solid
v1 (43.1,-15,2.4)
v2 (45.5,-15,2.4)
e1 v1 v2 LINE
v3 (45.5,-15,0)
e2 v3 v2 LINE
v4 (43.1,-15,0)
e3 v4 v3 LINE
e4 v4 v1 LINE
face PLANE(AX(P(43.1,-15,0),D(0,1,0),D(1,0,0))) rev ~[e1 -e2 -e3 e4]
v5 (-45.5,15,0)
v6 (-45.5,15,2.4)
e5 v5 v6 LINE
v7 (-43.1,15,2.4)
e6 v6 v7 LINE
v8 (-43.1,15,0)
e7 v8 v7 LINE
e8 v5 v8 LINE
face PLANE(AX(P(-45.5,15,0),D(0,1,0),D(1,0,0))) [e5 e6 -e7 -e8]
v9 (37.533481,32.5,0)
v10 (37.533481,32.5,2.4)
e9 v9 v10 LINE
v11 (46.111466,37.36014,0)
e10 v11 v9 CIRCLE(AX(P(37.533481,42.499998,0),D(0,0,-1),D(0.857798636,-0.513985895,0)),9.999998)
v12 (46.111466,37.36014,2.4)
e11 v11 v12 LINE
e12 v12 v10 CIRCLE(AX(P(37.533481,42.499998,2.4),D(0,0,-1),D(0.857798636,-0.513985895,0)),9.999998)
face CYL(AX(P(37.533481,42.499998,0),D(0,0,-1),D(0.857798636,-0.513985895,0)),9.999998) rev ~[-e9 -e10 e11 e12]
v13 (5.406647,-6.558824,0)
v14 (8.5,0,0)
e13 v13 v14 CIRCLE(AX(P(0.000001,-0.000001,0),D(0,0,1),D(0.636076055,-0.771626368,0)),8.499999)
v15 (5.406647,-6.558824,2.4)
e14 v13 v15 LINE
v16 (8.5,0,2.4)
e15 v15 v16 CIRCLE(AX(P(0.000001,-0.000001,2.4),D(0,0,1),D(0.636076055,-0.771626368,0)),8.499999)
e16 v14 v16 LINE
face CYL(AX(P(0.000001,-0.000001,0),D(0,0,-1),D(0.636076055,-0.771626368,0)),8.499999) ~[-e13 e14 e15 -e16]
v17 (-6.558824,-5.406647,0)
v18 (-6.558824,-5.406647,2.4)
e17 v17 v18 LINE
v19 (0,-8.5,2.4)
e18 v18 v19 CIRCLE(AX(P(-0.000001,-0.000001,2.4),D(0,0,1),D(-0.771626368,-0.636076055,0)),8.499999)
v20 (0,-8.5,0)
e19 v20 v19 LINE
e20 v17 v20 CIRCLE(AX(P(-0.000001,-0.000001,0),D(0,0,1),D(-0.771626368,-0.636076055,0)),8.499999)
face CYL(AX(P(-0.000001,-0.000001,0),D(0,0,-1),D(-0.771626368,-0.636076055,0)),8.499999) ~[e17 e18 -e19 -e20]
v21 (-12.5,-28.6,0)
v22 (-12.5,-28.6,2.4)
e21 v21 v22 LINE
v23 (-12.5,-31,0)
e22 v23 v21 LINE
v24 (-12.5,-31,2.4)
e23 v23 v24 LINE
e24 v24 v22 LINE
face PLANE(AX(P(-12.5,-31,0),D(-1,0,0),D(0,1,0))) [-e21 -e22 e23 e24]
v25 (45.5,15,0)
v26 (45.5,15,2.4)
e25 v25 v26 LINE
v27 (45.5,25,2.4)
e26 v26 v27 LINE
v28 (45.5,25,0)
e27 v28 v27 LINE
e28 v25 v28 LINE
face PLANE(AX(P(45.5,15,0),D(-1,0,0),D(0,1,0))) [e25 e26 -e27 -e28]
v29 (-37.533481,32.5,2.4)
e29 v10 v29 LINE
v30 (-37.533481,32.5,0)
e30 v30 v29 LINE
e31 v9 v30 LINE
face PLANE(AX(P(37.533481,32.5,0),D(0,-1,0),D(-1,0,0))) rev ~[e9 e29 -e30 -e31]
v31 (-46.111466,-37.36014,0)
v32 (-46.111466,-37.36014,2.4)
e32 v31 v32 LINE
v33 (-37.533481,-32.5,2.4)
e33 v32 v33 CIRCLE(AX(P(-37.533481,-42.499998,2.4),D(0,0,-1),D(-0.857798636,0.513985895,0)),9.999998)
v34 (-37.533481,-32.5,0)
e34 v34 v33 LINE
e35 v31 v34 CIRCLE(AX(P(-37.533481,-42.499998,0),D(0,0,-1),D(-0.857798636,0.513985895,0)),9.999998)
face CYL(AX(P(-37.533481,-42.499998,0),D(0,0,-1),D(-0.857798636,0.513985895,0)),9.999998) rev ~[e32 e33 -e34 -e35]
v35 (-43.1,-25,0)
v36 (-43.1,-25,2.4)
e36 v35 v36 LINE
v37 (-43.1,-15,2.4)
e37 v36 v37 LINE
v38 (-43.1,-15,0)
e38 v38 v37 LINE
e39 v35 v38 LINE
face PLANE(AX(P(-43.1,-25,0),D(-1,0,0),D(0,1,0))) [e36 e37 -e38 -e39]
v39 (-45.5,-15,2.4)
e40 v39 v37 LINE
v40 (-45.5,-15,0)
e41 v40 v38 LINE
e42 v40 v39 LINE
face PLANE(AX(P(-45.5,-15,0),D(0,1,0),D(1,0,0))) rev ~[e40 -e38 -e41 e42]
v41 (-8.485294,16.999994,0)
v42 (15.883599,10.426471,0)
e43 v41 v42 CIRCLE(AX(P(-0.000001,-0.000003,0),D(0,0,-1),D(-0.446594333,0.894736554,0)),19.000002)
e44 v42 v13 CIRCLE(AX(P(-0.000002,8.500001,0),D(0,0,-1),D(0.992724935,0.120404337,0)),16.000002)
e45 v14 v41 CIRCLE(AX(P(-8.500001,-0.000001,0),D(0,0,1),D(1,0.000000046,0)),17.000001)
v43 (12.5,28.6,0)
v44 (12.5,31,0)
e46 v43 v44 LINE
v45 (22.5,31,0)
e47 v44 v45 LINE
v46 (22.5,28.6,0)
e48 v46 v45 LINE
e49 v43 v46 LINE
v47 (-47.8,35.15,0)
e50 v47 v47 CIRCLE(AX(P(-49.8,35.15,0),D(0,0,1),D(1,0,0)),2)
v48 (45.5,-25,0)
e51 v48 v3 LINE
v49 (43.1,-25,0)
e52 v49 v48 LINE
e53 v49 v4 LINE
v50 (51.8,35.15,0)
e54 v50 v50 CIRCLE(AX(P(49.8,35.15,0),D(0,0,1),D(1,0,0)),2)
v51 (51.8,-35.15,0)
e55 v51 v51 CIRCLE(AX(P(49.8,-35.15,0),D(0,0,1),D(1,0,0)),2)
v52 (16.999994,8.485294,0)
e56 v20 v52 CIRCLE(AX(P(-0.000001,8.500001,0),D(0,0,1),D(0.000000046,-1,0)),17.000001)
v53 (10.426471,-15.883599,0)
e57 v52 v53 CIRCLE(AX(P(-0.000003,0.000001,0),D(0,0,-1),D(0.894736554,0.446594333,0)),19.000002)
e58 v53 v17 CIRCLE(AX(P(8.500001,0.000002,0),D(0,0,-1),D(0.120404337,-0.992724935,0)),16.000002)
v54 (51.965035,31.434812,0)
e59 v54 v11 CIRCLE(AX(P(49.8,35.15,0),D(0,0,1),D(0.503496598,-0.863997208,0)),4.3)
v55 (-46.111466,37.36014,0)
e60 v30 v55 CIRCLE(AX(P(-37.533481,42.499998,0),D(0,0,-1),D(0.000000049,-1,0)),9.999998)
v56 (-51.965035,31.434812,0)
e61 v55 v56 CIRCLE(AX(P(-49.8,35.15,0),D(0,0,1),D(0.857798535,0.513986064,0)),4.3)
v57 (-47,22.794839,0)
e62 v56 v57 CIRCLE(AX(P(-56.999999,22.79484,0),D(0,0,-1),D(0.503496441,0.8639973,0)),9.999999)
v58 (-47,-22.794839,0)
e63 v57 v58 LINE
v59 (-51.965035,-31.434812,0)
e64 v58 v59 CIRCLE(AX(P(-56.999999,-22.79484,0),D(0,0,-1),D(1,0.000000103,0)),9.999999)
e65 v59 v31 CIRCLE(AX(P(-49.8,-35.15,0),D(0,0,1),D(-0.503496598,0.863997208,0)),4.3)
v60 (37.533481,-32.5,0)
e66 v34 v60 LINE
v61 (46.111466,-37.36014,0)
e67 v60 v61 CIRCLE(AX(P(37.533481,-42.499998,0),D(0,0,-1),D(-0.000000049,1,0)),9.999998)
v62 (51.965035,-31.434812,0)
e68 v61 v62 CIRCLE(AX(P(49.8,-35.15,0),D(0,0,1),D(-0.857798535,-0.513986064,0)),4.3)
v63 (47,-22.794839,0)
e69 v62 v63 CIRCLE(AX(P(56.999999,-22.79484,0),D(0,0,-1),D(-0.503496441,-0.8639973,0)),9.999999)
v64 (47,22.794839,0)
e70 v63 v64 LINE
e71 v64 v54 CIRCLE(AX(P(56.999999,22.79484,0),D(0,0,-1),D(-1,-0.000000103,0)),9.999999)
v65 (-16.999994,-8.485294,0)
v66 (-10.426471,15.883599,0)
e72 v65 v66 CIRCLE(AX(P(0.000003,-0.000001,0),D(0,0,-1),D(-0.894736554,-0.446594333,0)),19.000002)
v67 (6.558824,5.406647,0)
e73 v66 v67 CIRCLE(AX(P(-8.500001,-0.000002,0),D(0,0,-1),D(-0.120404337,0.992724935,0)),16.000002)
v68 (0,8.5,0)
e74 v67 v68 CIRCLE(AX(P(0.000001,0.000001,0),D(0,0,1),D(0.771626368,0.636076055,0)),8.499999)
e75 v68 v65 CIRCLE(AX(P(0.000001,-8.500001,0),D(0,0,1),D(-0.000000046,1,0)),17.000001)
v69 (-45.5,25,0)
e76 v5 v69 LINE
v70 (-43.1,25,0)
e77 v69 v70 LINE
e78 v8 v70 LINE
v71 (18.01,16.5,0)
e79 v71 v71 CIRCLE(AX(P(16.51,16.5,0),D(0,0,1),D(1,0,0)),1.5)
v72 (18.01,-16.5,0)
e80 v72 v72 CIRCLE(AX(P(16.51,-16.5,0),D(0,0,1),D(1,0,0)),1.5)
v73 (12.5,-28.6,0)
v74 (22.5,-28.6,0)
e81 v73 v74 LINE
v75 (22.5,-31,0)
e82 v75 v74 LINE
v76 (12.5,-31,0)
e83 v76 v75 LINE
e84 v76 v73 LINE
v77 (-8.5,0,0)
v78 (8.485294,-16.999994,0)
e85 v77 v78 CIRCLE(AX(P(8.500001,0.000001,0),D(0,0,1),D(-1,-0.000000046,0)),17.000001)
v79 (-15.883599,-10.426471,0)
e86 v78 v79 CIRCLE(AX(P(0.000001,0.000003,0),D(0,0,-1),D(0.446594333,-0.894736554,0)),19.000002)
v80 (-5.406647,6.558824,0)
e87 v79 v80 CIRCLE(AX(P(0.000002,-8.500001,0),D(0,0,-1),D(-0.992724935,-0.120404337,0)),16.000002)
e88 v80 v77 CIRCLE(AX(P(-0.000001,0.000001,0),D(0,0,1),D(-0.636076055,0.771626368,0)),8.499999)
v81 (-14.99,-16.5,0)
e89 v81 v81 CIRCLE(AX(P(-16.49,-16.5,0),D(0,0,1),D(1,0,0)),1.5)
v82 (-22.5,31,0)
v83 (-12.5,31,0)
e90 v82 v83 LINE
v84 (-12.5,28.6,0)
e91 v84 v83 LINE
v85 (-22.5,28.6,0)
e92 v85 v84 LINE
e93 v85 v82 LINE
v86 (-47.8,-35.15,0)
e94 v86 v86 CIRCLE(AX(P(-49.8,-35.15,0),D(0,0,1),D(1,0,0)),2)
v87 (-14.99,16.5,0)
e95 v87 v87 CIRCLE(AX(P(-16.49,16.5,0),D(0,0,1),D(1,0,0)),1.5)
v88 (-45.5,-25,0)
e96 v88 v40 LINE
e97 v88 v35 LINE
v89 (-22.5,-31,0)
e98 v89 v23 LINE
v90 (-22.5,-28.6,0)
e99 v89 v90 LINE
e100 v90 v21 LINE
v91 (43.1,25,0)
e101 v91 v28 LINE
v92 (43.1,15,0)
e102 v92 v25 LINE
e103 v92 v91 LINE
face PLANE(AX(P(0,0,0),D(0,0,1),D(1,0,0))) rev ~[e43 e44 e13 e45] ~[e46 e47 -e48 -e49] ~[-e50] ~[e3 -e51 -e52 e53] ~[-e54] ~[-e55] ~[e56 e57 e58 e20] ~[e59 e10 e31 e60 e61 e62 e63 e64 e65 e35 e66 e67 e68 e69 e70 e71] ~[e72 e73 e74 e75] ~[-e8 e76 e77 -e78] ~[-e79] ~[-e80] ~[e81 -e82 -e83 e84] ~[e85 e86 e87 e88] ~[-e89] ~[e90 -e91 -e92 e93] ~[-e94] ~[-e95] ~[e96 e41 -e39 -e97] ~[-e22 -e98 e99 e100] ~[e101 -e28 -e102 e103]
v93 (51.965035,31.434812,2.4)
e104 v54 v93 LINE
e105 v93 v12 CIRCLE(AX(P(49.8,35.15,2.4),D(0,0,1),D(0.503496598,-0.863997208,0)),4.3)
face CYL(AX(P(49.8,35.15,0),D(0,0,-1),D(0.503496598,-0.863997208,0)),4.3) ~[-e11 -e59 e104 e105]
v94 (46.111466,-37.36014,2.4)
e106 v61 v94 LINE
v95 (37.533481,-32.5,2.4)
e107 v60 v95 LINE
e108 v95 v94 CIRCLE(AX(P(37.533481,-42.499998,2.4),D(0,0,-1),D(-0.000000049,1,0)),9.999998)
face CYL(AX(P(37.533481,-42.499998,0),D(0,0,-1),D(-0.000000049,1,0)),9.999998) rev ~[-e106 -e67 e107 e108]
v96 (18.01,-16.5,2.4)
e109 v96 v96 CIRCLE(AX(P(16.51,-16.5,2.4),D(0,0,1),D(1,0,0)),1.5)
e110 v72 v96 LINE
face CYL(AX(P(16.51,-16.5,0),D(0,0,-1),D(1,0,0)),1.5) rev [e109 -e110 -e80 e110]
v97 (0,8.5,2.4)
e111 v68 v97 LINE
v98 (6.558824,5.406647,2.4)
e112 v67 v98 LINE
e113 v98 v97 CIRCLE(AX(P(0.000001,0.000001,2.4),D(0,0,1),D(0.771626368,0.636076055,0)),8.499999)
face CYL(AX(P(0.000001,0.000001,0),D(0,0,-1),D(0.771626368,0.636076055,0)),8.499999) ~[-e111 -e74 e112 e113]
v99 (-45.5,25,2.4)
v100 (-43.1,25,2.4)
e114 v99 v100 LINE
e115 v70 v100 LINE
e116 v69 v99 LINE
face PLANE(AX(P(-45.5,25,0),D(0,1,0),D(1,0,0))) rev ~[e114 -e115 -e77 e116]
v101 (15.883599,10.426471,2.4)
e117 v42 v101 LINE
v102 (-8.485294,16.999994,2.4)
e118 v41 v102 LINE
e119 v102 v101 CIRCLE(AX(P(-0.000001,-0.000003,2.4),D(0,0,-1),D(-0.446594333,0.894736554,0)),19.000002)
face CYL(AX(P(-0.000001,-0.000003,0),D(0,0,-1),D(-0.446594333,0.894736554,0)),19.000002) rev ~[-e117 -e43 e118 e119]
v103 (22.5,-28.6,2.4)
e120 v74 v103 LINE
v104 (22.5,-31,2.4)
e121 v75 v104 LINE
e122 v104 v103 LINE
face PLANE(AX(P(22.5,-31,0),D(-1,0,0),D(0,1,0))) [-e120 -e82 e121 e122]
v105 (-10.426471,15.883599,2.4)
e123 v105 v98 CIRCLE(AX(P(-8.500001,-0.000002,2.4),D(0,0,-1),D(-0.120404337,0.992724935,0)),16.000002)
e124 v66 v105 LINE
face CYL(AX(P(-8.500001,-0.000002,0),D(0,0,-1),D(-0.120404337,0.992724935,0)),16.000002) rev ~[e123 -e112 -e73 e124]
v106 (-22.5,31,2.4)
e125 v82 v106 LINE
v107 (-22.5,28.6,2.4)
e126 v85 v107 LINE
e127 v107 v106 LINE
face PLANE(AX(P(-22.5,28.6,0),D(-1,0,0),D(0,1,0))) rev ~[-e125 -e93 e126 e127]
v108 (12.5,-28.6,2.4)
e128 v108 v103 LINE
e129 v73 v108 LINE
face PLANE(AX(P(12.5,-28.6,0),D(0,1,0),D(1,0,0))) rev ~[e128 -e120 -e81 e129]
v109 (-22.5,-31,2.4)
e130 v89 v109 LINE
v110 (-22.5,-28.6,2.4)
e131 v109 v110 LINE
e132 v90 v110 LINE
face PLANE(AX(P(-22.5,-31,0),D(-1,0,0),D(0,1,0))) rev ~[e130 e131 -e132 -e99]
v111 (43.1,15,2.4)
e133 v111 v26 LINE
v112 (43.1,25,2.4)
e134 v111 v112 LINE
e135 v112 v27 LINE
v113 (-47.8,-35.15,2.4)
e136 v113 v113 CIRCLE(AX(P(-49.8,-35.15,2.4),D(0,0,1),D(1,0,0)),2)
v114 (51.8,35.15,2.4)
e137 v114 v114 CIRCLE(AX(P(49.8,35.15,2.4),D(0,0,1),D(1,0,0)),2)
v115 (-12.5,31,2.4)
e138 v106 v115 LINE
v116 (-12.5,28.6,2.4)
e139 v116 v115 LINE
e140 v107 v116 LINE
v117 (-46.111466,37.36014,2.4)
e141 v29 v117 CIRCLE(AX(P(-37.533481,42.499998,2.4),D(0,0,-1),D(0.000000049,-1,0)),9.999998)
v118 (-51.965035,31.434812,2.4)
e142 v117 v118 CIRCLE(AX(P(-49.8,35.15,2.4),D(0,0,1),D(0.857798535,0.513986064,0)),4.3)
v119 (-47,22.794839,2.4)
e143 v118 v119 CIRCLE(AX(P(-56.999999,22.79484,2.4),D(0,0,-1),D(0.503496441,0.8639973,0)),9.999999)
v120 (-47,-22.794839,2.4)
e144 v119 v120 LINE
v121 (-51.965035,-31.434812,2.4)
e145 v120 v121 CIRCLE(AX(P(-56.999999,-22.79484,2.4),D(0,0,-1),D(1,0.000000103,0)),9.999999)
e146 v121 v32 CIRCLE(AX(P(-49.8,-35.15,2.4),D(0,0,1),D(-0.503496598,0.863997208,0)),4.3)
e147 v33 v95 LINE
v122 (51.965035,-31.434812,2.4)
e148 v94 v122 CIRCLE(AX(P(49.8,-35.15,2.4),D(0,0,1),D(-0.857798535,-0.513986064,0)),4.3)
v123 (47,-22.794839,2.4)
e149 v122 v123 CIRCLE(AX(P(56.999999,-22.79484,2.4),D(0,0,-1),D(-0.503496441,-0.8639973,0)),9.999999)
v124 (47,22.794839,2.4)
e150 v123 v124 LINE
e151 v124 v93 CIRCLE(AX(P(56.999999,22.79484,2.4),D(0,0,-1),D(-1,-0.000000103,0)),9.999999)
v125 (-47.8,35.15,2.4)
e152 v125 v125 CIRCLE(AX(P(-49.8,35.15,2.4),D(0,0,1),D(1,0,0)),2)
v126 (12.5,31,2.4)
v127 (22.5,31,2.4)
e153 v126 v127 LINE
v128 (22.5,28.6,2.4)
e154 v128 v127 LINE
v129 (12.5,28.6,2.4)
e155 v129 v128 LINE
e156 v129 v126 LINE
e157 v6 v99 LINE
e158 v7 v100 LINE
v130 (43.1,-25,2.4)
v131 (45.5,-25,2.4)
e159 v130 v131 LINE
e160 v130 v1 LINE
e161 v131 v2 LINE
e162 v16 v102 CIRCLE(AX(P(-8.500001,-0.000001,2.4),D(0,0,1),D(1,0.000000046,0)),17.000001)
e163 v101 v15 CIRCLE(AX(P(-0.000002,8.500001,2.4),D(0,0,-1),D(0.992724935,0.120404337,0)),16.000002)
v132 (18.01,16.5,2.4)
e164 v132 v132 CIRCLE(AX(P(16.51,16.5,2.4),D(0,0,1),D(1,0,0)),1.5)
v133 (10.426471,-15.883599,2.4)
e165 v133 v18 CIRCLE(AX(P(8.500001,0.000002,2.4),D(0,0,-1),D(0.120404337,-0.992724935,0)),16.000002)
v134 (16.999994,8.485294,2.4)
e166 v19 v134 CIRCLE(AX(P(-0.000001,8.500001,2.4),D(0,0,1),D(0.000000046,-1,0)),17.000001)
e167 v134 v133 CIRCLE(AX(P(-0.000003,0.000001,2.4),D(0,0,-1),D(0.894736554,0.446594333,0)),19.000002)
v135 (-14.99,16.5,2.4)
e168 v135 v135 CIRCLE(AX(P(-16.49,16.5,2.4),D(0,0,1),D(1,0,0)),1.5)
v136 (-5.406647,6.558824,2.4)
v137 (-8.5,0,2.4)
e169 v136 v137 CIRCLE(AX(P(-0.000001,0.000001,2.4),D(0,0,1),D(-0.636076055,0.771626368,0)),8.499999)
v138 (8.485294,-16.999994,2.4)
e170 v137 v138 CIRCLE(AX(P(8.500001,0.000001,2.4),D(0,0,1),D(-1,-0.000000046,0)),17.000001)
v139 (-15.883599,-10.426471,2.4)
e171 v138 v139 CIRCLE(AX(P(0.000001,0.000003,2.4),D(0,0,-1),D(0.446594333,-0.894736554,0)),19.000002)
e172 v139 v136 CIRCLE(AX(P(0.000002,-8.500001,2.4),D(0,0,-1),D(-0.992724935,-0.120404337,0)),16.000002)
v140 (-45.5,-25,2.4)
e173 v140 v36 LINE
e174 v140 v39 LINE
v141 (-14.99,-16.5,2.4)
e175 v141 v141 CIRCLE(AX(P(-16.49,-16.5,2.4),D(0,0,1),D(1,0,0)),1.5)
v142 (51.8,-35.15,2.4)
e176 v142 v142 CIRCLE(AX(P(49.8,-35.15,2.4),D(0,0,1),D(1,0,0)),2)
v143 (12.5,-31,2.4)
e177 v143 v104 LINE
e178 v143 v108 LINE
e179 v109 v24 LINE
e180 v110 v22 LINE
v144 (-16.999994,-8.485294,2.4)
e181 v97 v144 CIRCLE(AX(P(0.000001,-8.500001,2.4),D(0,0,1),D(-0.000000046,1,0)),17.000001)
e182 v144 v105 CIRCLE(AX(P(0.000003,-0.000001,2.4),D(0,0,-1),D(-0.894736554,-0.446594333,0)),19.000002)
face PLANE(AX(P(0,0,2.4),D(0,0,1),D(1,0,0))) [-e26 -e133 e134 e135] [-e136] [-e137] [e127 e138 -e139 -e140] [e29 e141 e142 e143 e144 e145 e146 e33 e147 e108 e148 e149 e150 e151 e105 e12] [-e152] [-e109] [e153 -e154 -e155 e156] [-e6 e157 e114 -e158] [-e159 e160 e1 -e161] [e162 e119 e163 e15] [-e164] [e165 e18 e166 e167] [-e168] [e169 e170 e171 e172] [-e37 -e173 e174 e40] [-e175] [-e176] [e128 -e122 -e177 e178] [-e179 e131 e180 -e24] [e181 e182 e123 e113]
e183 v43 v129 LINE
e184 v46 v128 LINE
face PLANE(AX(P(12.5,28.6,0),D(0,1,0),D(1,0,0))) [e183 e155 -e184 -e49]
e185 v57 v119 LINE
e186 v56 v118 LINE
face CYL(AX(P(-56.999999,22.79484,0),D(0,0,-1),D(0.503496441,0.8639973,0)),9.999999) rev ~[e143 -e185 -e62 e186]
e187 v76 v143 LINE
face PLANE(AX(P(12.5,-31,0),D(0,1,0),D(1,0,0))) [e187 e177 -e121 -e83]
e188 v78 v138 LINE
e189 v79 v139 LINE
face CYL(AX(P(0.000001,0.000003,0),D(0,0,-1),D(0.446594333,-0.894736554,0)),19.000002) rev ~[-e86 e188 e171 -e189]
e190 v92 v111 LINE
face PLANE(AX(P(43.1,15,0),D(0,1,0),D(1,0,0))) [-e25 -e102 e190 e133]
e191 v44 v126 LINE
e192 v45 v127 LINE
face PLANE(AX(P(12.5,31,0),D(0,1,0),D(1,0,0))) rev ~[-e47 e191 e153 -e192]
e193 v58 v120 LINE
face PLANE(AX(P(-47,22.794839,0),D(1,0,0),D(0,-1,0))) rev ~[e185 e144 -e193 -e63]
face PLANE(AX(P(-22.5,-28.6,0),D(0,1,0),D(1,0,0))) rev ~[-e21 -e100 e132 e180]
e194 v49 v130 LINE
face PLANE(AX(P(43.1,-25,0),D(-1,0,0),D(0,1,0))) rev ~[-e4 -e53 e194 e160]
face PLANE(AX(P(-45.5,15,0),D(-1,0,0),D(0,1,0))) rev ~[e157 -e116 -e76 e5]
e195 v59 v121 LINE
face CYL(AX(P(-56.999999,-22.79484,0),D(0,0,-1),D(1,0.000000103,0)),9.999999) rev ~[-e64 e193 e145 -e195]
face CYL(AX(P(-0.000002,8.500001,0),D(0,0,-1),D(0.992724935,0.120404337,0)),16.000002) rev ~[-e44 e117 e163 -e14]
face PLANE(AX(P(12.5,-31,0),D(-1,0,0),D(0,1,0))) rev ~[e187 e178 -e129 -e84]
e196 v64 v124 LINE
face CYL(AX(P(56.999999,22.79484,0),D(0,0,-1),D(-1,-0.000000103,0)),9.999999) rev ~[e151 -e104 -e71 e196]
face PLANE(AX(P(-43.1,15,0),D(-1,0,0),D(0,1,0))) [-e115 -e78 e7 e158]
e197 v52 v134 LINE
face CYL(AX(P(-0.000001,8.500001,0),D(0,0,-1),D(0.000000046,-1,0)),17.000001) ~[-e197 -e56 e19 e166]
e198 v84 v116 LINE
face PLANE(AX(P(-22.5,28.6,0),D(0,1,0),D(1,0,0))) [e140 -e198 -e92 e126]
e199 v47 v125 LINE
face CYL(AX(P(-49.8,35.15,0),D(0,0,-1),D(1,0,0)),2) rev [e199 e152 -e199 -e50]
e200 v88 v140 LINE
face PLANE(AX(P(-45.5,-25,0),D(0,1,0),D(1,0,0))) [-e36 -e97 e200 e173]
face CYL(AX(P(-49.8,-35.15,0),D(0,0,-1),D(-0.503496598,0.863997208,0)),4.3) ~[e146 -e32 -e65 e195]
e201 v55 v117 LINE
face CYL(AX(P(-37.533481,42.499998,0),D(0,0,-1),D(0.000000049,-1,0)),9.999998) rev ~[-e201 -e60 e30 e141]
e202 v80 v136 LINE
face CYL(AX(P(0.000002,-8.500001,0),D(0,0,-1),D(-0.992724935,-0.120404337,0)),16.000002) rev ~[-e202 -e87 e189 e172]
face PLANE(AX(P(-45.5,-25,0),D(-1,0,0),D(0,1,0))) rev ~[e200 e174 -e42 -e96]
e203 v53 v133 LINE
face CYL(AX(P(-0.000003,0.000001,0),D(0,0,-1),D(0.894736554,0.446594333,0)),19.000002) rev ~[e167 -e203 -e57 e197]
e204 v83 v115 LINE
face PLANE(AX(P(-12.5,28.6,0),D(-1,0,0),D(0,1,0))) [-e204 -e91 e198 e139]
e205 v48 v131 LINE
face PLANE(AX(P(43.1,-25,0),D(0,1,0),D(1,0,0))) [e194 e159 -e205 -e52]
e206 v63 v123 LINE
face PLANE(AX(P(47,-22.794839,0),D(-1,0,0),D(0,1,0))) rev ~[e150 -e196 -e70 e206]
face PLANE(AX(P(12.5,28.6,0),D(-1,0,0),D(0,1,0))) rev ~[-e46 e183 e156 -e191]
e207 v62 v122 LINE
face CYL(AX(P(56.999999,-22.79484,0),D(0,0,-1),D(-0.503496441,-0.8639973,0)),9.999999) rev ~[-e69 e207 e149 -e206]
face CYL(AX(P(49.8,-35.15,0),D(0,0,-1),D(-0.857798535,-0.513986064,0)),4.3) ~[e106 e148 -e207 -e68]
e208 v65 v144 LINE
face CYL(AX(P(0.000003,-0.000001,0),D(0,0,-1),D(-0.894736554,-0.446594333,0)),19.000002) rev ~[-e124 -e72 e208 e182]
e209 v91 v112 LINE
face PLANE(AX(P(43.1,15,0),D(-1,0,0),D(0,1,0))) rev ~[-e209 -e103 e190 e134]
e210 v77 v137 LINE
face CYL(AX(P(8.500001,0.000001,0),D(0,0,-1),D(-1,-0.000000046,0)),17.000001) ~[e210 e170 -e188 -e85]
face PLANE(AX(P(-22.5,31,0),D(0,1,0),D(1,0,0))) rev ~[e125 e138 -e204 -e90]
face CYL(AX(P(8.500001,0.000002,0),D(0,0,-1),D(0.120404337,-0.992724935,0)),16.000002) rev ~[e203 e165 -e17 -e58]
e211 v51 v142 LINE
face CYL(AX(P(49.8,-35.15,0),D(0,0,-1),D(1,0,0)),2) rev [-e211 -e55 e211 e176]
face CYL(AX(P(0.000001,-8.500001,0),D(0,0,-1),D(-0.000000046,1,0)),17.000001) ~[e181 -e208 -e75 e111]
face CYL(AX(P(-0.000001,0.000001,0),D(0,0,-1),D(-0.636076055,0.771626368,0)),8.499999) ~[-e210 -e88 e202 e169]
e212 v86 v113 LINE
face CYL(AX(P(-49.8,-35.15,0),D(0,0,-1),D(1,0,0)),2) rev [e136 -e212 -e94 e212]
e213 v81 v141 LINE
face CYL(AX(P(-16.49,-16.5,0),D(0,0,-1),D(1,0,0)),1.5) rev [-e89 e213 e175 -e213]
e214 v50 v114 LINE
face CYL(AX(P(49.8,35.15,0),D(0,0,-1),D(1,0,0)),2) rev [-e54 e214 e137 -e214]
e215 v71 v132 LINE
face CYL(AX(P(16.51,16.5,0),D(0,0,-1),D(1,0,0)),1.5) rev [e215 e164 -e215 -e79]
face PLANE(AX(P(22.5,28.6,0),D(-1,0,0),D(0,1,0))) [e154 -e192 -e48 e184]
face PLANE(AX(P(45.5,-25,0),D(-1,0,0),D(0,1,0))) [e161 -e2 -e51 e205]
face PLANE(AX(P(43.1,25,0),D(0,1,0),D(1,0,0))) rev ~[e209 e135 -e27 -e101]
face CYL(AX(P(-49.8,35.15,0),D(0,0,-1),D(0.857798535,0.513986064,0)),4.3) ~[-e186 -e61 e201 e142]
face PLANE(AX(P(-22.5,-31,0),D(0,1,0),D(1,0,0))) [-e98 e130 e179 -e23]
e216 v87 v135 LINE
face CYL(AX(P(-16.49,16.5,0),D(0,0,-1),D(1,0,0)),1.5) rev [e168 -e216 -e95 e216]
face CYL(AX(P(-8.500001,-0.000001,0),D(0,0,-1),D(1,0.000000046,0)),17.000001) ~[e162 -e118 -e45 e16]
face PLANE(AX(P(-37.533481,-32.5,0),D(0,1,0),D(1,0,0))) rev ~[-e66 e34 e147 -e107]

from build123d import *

# Parameters (mm, degrees)
F0_R     = 2
F0_W     = 2.4
F0_H     = 10
F0_W_2   = 10
F0_H_2   = 2.4
F0_R_2   = 1.5
F1_DEPTH = 2.4


with BuildPart() as f1:
    # F0 (on Top) → F1 (new body)
    with BuildSketch(Plane.XY):
        with BuildLine():
            ThreePointArc((46.111466, 37.36014), (42.463054, 33.799465), (37.533481, 32.5))
            Line((37.533481, 32.5), (-37.533481, 32.5))
            ThreePointArc((-37.533481, 32.5), (-42.463054, 33.799465), (-46.111466, 37.36014))
            ThreePointArc((-46.111466, 37.36014), (-52.859026, 38.171979), (-51.965035, 31.434812))
            ThreePointArc((-51.965035, 31.434812), (-48.329658, 27.777326), (-47, 22.794839))
            Line((-47, 22.794839), (-47, 0))
            Line((-47, 0), (-47, -22.794839))
            ThreePointArc((-47, -22.794839), (-48.329658, -27.777326), (-51.965035, -31.434812))
            ThreePointArc((-51.965035, -31.434812), (-52.859026, -38.171979), (-46.111466, -37.36014))
            ThreePointArc((-46.111466, -37.36014), (-42.463054, -33.799465), (-37.533481, -32.5))
            Line((-37.533481, -32.5), (37.533481, -32.5))
            ThreePointArc((37.533481, -32.5), (42.463054, -33.799465), (46.111466, -37.36014))
            ThreePointArc((46.111466, -37.36014), (52.859026, -38.171979), (51.965035, -31.434812))
            ThreePointArc((51.965035, -31.434812), (48.329658, -27.777326), (47, -22.794839))
            Line((47, -22.794839), (47, 22.794839))
            ThreePointArc((47, 22.794839), (48.329658, 27.777326), (51.965035, 31.434812))
            ThreePointArc((51.965035, 31.434812), (52.859026, 38.171979), (46.111466, 37.36014))
        make_face()
        with Locations((-49.8, -35.15)):
            Circle(F0_R, mode=Mode.SUBTRACT)
        with Locations((-44.3, -20)):
            Rectangle(F0_W, F0_H, mode=Mode.SUBTRACT)
        with Locations((-17.5, -29.8)):
            Rectangle(F0_W_2, F0_H_2, mode=Mode.SUBTRACT)
        with Locations((-16.49, -16.5)):
            Circle(F0_R_2, mode=Mode.SUBTRACT)
        with BuildLine():
            ThreePointArc((-15.883599, -10.426471), (-13.617771, -0.10022), (-5.406647, 6.558824))
            ThreePointArc((-5.406647, 6.558824), (-7.687864, 3.625845), (-8.5, 0))
            ThreePointArc((-8.5, 0), (-3.526013, -12.015615), (8.485294, -16.999994))
            ThreePointArc((8.485294, -16.999994), (-4.948387, -18.344303), (-15.883599, -10.426471))
        make_face(mode=Mode.SUBTRACT)
        with Locations((17.5, -29.8)):
            Rectangle(F0_W_2, F0_H_2, mode=Mode.SUBTRACT)
        with Locations((49.8, -35.15)):
            Circle(F0_R, mode=Mode.SUBTRACT)
        with Locations((44.3, -20)):
            Rectangle(F0_W, F0_H, mode=Mode.SUBTRACT)
        with Locations((16.51, -16.5)):
            Circle(F0_R_2, mode=Mode.SUBTRACT)
        with BuildLine():
            ThreePointArc((-6.558824, -5.406647), (-3.625845, -7.687864), (0, -8.5))
            ThreePointArc((0, -8.5), (12.015615, -3.526013), (16.999994, 8.485294))
            ThreePointArc((16.999994, 8.485294), (18.344303, -4.948387), (10.426471, -15.883599))
            ThreePointArc((10.426471, -15.883599), (0.10022, -13.617771), (-6.558824, -5.406647))
        make_face(mode=Mode.SUBTRACT)
        with BuildLine():
            ThreePointArc((-10.426471, 15.883599), (-0.10022, 13.617771), (6.558824, 5.406647))
            ThreePointArc((6.558824, 5.406647), (3.625845, 7.687864), (0, 8.5))
            ThreePointArc((0, 8.5), (-12.015615, 3.526013), (-16.999994, -8.485294))
            ThreePointArc((-16.999994, -8.485294), (-18.344303, 4.948387), (-10.426471, 15.883599))
        make_face(mode=Mode.SUBTRACT)
        with Locations((-16.49, 16.5)):
            Circle(F0_R_2, mode=Mode.SUBTRACT)
        with Locations((-44.3, 20)):
            Rectangle(F0_W, F0_H, mode=Mode.SUBTRACT)
        with Locations((-49.8, 35.15)):
            Circle(F0_R, mode=Mode.SUBTRACT)
        with Locations((-17.5, 29.8)):
            Rectangle(F0_W_2, F0_H_2, mode=Mode.SUBTRACT)
        with BuildLine():
            ThreePointArc((-8.485294, 16.999994), (4.948387, 18.344303), (15.883599, 10.426471))
            ThreePointArc((15.883599, 10.426471), (13.617771, 0.10022), (5.406647, -6.558824))
            ThreePointArc((5.406647, -6.558824), (7.687864, -3.625845), (8.5, 0))
            ThreePointArc((8.5, 0), (3.526013, 12.015615), (-8.485294, 16.999994))
        make_face(mode=Mode.SUBTRACT)
        with Locations((16.51, 16.5)):
            Circle(F0_R_2, mode=Mode.SUBTRACT)
        with Locations((17.5, 29.8)):
            Rectangle(F0_W_2, F0_H_2, mode=Mode.SUBTRACT)
        with Locations((44.3, 20)):
            Rectangle(F0_W, F0_H, mode=Mode.SUBTRACT)
        with Locations((49.8, 35.15)):
            Circle(F0_R, mode=Mode.SUBTRACT)
    extrude(amount=F1_DEPTH)


solid = f1.part
